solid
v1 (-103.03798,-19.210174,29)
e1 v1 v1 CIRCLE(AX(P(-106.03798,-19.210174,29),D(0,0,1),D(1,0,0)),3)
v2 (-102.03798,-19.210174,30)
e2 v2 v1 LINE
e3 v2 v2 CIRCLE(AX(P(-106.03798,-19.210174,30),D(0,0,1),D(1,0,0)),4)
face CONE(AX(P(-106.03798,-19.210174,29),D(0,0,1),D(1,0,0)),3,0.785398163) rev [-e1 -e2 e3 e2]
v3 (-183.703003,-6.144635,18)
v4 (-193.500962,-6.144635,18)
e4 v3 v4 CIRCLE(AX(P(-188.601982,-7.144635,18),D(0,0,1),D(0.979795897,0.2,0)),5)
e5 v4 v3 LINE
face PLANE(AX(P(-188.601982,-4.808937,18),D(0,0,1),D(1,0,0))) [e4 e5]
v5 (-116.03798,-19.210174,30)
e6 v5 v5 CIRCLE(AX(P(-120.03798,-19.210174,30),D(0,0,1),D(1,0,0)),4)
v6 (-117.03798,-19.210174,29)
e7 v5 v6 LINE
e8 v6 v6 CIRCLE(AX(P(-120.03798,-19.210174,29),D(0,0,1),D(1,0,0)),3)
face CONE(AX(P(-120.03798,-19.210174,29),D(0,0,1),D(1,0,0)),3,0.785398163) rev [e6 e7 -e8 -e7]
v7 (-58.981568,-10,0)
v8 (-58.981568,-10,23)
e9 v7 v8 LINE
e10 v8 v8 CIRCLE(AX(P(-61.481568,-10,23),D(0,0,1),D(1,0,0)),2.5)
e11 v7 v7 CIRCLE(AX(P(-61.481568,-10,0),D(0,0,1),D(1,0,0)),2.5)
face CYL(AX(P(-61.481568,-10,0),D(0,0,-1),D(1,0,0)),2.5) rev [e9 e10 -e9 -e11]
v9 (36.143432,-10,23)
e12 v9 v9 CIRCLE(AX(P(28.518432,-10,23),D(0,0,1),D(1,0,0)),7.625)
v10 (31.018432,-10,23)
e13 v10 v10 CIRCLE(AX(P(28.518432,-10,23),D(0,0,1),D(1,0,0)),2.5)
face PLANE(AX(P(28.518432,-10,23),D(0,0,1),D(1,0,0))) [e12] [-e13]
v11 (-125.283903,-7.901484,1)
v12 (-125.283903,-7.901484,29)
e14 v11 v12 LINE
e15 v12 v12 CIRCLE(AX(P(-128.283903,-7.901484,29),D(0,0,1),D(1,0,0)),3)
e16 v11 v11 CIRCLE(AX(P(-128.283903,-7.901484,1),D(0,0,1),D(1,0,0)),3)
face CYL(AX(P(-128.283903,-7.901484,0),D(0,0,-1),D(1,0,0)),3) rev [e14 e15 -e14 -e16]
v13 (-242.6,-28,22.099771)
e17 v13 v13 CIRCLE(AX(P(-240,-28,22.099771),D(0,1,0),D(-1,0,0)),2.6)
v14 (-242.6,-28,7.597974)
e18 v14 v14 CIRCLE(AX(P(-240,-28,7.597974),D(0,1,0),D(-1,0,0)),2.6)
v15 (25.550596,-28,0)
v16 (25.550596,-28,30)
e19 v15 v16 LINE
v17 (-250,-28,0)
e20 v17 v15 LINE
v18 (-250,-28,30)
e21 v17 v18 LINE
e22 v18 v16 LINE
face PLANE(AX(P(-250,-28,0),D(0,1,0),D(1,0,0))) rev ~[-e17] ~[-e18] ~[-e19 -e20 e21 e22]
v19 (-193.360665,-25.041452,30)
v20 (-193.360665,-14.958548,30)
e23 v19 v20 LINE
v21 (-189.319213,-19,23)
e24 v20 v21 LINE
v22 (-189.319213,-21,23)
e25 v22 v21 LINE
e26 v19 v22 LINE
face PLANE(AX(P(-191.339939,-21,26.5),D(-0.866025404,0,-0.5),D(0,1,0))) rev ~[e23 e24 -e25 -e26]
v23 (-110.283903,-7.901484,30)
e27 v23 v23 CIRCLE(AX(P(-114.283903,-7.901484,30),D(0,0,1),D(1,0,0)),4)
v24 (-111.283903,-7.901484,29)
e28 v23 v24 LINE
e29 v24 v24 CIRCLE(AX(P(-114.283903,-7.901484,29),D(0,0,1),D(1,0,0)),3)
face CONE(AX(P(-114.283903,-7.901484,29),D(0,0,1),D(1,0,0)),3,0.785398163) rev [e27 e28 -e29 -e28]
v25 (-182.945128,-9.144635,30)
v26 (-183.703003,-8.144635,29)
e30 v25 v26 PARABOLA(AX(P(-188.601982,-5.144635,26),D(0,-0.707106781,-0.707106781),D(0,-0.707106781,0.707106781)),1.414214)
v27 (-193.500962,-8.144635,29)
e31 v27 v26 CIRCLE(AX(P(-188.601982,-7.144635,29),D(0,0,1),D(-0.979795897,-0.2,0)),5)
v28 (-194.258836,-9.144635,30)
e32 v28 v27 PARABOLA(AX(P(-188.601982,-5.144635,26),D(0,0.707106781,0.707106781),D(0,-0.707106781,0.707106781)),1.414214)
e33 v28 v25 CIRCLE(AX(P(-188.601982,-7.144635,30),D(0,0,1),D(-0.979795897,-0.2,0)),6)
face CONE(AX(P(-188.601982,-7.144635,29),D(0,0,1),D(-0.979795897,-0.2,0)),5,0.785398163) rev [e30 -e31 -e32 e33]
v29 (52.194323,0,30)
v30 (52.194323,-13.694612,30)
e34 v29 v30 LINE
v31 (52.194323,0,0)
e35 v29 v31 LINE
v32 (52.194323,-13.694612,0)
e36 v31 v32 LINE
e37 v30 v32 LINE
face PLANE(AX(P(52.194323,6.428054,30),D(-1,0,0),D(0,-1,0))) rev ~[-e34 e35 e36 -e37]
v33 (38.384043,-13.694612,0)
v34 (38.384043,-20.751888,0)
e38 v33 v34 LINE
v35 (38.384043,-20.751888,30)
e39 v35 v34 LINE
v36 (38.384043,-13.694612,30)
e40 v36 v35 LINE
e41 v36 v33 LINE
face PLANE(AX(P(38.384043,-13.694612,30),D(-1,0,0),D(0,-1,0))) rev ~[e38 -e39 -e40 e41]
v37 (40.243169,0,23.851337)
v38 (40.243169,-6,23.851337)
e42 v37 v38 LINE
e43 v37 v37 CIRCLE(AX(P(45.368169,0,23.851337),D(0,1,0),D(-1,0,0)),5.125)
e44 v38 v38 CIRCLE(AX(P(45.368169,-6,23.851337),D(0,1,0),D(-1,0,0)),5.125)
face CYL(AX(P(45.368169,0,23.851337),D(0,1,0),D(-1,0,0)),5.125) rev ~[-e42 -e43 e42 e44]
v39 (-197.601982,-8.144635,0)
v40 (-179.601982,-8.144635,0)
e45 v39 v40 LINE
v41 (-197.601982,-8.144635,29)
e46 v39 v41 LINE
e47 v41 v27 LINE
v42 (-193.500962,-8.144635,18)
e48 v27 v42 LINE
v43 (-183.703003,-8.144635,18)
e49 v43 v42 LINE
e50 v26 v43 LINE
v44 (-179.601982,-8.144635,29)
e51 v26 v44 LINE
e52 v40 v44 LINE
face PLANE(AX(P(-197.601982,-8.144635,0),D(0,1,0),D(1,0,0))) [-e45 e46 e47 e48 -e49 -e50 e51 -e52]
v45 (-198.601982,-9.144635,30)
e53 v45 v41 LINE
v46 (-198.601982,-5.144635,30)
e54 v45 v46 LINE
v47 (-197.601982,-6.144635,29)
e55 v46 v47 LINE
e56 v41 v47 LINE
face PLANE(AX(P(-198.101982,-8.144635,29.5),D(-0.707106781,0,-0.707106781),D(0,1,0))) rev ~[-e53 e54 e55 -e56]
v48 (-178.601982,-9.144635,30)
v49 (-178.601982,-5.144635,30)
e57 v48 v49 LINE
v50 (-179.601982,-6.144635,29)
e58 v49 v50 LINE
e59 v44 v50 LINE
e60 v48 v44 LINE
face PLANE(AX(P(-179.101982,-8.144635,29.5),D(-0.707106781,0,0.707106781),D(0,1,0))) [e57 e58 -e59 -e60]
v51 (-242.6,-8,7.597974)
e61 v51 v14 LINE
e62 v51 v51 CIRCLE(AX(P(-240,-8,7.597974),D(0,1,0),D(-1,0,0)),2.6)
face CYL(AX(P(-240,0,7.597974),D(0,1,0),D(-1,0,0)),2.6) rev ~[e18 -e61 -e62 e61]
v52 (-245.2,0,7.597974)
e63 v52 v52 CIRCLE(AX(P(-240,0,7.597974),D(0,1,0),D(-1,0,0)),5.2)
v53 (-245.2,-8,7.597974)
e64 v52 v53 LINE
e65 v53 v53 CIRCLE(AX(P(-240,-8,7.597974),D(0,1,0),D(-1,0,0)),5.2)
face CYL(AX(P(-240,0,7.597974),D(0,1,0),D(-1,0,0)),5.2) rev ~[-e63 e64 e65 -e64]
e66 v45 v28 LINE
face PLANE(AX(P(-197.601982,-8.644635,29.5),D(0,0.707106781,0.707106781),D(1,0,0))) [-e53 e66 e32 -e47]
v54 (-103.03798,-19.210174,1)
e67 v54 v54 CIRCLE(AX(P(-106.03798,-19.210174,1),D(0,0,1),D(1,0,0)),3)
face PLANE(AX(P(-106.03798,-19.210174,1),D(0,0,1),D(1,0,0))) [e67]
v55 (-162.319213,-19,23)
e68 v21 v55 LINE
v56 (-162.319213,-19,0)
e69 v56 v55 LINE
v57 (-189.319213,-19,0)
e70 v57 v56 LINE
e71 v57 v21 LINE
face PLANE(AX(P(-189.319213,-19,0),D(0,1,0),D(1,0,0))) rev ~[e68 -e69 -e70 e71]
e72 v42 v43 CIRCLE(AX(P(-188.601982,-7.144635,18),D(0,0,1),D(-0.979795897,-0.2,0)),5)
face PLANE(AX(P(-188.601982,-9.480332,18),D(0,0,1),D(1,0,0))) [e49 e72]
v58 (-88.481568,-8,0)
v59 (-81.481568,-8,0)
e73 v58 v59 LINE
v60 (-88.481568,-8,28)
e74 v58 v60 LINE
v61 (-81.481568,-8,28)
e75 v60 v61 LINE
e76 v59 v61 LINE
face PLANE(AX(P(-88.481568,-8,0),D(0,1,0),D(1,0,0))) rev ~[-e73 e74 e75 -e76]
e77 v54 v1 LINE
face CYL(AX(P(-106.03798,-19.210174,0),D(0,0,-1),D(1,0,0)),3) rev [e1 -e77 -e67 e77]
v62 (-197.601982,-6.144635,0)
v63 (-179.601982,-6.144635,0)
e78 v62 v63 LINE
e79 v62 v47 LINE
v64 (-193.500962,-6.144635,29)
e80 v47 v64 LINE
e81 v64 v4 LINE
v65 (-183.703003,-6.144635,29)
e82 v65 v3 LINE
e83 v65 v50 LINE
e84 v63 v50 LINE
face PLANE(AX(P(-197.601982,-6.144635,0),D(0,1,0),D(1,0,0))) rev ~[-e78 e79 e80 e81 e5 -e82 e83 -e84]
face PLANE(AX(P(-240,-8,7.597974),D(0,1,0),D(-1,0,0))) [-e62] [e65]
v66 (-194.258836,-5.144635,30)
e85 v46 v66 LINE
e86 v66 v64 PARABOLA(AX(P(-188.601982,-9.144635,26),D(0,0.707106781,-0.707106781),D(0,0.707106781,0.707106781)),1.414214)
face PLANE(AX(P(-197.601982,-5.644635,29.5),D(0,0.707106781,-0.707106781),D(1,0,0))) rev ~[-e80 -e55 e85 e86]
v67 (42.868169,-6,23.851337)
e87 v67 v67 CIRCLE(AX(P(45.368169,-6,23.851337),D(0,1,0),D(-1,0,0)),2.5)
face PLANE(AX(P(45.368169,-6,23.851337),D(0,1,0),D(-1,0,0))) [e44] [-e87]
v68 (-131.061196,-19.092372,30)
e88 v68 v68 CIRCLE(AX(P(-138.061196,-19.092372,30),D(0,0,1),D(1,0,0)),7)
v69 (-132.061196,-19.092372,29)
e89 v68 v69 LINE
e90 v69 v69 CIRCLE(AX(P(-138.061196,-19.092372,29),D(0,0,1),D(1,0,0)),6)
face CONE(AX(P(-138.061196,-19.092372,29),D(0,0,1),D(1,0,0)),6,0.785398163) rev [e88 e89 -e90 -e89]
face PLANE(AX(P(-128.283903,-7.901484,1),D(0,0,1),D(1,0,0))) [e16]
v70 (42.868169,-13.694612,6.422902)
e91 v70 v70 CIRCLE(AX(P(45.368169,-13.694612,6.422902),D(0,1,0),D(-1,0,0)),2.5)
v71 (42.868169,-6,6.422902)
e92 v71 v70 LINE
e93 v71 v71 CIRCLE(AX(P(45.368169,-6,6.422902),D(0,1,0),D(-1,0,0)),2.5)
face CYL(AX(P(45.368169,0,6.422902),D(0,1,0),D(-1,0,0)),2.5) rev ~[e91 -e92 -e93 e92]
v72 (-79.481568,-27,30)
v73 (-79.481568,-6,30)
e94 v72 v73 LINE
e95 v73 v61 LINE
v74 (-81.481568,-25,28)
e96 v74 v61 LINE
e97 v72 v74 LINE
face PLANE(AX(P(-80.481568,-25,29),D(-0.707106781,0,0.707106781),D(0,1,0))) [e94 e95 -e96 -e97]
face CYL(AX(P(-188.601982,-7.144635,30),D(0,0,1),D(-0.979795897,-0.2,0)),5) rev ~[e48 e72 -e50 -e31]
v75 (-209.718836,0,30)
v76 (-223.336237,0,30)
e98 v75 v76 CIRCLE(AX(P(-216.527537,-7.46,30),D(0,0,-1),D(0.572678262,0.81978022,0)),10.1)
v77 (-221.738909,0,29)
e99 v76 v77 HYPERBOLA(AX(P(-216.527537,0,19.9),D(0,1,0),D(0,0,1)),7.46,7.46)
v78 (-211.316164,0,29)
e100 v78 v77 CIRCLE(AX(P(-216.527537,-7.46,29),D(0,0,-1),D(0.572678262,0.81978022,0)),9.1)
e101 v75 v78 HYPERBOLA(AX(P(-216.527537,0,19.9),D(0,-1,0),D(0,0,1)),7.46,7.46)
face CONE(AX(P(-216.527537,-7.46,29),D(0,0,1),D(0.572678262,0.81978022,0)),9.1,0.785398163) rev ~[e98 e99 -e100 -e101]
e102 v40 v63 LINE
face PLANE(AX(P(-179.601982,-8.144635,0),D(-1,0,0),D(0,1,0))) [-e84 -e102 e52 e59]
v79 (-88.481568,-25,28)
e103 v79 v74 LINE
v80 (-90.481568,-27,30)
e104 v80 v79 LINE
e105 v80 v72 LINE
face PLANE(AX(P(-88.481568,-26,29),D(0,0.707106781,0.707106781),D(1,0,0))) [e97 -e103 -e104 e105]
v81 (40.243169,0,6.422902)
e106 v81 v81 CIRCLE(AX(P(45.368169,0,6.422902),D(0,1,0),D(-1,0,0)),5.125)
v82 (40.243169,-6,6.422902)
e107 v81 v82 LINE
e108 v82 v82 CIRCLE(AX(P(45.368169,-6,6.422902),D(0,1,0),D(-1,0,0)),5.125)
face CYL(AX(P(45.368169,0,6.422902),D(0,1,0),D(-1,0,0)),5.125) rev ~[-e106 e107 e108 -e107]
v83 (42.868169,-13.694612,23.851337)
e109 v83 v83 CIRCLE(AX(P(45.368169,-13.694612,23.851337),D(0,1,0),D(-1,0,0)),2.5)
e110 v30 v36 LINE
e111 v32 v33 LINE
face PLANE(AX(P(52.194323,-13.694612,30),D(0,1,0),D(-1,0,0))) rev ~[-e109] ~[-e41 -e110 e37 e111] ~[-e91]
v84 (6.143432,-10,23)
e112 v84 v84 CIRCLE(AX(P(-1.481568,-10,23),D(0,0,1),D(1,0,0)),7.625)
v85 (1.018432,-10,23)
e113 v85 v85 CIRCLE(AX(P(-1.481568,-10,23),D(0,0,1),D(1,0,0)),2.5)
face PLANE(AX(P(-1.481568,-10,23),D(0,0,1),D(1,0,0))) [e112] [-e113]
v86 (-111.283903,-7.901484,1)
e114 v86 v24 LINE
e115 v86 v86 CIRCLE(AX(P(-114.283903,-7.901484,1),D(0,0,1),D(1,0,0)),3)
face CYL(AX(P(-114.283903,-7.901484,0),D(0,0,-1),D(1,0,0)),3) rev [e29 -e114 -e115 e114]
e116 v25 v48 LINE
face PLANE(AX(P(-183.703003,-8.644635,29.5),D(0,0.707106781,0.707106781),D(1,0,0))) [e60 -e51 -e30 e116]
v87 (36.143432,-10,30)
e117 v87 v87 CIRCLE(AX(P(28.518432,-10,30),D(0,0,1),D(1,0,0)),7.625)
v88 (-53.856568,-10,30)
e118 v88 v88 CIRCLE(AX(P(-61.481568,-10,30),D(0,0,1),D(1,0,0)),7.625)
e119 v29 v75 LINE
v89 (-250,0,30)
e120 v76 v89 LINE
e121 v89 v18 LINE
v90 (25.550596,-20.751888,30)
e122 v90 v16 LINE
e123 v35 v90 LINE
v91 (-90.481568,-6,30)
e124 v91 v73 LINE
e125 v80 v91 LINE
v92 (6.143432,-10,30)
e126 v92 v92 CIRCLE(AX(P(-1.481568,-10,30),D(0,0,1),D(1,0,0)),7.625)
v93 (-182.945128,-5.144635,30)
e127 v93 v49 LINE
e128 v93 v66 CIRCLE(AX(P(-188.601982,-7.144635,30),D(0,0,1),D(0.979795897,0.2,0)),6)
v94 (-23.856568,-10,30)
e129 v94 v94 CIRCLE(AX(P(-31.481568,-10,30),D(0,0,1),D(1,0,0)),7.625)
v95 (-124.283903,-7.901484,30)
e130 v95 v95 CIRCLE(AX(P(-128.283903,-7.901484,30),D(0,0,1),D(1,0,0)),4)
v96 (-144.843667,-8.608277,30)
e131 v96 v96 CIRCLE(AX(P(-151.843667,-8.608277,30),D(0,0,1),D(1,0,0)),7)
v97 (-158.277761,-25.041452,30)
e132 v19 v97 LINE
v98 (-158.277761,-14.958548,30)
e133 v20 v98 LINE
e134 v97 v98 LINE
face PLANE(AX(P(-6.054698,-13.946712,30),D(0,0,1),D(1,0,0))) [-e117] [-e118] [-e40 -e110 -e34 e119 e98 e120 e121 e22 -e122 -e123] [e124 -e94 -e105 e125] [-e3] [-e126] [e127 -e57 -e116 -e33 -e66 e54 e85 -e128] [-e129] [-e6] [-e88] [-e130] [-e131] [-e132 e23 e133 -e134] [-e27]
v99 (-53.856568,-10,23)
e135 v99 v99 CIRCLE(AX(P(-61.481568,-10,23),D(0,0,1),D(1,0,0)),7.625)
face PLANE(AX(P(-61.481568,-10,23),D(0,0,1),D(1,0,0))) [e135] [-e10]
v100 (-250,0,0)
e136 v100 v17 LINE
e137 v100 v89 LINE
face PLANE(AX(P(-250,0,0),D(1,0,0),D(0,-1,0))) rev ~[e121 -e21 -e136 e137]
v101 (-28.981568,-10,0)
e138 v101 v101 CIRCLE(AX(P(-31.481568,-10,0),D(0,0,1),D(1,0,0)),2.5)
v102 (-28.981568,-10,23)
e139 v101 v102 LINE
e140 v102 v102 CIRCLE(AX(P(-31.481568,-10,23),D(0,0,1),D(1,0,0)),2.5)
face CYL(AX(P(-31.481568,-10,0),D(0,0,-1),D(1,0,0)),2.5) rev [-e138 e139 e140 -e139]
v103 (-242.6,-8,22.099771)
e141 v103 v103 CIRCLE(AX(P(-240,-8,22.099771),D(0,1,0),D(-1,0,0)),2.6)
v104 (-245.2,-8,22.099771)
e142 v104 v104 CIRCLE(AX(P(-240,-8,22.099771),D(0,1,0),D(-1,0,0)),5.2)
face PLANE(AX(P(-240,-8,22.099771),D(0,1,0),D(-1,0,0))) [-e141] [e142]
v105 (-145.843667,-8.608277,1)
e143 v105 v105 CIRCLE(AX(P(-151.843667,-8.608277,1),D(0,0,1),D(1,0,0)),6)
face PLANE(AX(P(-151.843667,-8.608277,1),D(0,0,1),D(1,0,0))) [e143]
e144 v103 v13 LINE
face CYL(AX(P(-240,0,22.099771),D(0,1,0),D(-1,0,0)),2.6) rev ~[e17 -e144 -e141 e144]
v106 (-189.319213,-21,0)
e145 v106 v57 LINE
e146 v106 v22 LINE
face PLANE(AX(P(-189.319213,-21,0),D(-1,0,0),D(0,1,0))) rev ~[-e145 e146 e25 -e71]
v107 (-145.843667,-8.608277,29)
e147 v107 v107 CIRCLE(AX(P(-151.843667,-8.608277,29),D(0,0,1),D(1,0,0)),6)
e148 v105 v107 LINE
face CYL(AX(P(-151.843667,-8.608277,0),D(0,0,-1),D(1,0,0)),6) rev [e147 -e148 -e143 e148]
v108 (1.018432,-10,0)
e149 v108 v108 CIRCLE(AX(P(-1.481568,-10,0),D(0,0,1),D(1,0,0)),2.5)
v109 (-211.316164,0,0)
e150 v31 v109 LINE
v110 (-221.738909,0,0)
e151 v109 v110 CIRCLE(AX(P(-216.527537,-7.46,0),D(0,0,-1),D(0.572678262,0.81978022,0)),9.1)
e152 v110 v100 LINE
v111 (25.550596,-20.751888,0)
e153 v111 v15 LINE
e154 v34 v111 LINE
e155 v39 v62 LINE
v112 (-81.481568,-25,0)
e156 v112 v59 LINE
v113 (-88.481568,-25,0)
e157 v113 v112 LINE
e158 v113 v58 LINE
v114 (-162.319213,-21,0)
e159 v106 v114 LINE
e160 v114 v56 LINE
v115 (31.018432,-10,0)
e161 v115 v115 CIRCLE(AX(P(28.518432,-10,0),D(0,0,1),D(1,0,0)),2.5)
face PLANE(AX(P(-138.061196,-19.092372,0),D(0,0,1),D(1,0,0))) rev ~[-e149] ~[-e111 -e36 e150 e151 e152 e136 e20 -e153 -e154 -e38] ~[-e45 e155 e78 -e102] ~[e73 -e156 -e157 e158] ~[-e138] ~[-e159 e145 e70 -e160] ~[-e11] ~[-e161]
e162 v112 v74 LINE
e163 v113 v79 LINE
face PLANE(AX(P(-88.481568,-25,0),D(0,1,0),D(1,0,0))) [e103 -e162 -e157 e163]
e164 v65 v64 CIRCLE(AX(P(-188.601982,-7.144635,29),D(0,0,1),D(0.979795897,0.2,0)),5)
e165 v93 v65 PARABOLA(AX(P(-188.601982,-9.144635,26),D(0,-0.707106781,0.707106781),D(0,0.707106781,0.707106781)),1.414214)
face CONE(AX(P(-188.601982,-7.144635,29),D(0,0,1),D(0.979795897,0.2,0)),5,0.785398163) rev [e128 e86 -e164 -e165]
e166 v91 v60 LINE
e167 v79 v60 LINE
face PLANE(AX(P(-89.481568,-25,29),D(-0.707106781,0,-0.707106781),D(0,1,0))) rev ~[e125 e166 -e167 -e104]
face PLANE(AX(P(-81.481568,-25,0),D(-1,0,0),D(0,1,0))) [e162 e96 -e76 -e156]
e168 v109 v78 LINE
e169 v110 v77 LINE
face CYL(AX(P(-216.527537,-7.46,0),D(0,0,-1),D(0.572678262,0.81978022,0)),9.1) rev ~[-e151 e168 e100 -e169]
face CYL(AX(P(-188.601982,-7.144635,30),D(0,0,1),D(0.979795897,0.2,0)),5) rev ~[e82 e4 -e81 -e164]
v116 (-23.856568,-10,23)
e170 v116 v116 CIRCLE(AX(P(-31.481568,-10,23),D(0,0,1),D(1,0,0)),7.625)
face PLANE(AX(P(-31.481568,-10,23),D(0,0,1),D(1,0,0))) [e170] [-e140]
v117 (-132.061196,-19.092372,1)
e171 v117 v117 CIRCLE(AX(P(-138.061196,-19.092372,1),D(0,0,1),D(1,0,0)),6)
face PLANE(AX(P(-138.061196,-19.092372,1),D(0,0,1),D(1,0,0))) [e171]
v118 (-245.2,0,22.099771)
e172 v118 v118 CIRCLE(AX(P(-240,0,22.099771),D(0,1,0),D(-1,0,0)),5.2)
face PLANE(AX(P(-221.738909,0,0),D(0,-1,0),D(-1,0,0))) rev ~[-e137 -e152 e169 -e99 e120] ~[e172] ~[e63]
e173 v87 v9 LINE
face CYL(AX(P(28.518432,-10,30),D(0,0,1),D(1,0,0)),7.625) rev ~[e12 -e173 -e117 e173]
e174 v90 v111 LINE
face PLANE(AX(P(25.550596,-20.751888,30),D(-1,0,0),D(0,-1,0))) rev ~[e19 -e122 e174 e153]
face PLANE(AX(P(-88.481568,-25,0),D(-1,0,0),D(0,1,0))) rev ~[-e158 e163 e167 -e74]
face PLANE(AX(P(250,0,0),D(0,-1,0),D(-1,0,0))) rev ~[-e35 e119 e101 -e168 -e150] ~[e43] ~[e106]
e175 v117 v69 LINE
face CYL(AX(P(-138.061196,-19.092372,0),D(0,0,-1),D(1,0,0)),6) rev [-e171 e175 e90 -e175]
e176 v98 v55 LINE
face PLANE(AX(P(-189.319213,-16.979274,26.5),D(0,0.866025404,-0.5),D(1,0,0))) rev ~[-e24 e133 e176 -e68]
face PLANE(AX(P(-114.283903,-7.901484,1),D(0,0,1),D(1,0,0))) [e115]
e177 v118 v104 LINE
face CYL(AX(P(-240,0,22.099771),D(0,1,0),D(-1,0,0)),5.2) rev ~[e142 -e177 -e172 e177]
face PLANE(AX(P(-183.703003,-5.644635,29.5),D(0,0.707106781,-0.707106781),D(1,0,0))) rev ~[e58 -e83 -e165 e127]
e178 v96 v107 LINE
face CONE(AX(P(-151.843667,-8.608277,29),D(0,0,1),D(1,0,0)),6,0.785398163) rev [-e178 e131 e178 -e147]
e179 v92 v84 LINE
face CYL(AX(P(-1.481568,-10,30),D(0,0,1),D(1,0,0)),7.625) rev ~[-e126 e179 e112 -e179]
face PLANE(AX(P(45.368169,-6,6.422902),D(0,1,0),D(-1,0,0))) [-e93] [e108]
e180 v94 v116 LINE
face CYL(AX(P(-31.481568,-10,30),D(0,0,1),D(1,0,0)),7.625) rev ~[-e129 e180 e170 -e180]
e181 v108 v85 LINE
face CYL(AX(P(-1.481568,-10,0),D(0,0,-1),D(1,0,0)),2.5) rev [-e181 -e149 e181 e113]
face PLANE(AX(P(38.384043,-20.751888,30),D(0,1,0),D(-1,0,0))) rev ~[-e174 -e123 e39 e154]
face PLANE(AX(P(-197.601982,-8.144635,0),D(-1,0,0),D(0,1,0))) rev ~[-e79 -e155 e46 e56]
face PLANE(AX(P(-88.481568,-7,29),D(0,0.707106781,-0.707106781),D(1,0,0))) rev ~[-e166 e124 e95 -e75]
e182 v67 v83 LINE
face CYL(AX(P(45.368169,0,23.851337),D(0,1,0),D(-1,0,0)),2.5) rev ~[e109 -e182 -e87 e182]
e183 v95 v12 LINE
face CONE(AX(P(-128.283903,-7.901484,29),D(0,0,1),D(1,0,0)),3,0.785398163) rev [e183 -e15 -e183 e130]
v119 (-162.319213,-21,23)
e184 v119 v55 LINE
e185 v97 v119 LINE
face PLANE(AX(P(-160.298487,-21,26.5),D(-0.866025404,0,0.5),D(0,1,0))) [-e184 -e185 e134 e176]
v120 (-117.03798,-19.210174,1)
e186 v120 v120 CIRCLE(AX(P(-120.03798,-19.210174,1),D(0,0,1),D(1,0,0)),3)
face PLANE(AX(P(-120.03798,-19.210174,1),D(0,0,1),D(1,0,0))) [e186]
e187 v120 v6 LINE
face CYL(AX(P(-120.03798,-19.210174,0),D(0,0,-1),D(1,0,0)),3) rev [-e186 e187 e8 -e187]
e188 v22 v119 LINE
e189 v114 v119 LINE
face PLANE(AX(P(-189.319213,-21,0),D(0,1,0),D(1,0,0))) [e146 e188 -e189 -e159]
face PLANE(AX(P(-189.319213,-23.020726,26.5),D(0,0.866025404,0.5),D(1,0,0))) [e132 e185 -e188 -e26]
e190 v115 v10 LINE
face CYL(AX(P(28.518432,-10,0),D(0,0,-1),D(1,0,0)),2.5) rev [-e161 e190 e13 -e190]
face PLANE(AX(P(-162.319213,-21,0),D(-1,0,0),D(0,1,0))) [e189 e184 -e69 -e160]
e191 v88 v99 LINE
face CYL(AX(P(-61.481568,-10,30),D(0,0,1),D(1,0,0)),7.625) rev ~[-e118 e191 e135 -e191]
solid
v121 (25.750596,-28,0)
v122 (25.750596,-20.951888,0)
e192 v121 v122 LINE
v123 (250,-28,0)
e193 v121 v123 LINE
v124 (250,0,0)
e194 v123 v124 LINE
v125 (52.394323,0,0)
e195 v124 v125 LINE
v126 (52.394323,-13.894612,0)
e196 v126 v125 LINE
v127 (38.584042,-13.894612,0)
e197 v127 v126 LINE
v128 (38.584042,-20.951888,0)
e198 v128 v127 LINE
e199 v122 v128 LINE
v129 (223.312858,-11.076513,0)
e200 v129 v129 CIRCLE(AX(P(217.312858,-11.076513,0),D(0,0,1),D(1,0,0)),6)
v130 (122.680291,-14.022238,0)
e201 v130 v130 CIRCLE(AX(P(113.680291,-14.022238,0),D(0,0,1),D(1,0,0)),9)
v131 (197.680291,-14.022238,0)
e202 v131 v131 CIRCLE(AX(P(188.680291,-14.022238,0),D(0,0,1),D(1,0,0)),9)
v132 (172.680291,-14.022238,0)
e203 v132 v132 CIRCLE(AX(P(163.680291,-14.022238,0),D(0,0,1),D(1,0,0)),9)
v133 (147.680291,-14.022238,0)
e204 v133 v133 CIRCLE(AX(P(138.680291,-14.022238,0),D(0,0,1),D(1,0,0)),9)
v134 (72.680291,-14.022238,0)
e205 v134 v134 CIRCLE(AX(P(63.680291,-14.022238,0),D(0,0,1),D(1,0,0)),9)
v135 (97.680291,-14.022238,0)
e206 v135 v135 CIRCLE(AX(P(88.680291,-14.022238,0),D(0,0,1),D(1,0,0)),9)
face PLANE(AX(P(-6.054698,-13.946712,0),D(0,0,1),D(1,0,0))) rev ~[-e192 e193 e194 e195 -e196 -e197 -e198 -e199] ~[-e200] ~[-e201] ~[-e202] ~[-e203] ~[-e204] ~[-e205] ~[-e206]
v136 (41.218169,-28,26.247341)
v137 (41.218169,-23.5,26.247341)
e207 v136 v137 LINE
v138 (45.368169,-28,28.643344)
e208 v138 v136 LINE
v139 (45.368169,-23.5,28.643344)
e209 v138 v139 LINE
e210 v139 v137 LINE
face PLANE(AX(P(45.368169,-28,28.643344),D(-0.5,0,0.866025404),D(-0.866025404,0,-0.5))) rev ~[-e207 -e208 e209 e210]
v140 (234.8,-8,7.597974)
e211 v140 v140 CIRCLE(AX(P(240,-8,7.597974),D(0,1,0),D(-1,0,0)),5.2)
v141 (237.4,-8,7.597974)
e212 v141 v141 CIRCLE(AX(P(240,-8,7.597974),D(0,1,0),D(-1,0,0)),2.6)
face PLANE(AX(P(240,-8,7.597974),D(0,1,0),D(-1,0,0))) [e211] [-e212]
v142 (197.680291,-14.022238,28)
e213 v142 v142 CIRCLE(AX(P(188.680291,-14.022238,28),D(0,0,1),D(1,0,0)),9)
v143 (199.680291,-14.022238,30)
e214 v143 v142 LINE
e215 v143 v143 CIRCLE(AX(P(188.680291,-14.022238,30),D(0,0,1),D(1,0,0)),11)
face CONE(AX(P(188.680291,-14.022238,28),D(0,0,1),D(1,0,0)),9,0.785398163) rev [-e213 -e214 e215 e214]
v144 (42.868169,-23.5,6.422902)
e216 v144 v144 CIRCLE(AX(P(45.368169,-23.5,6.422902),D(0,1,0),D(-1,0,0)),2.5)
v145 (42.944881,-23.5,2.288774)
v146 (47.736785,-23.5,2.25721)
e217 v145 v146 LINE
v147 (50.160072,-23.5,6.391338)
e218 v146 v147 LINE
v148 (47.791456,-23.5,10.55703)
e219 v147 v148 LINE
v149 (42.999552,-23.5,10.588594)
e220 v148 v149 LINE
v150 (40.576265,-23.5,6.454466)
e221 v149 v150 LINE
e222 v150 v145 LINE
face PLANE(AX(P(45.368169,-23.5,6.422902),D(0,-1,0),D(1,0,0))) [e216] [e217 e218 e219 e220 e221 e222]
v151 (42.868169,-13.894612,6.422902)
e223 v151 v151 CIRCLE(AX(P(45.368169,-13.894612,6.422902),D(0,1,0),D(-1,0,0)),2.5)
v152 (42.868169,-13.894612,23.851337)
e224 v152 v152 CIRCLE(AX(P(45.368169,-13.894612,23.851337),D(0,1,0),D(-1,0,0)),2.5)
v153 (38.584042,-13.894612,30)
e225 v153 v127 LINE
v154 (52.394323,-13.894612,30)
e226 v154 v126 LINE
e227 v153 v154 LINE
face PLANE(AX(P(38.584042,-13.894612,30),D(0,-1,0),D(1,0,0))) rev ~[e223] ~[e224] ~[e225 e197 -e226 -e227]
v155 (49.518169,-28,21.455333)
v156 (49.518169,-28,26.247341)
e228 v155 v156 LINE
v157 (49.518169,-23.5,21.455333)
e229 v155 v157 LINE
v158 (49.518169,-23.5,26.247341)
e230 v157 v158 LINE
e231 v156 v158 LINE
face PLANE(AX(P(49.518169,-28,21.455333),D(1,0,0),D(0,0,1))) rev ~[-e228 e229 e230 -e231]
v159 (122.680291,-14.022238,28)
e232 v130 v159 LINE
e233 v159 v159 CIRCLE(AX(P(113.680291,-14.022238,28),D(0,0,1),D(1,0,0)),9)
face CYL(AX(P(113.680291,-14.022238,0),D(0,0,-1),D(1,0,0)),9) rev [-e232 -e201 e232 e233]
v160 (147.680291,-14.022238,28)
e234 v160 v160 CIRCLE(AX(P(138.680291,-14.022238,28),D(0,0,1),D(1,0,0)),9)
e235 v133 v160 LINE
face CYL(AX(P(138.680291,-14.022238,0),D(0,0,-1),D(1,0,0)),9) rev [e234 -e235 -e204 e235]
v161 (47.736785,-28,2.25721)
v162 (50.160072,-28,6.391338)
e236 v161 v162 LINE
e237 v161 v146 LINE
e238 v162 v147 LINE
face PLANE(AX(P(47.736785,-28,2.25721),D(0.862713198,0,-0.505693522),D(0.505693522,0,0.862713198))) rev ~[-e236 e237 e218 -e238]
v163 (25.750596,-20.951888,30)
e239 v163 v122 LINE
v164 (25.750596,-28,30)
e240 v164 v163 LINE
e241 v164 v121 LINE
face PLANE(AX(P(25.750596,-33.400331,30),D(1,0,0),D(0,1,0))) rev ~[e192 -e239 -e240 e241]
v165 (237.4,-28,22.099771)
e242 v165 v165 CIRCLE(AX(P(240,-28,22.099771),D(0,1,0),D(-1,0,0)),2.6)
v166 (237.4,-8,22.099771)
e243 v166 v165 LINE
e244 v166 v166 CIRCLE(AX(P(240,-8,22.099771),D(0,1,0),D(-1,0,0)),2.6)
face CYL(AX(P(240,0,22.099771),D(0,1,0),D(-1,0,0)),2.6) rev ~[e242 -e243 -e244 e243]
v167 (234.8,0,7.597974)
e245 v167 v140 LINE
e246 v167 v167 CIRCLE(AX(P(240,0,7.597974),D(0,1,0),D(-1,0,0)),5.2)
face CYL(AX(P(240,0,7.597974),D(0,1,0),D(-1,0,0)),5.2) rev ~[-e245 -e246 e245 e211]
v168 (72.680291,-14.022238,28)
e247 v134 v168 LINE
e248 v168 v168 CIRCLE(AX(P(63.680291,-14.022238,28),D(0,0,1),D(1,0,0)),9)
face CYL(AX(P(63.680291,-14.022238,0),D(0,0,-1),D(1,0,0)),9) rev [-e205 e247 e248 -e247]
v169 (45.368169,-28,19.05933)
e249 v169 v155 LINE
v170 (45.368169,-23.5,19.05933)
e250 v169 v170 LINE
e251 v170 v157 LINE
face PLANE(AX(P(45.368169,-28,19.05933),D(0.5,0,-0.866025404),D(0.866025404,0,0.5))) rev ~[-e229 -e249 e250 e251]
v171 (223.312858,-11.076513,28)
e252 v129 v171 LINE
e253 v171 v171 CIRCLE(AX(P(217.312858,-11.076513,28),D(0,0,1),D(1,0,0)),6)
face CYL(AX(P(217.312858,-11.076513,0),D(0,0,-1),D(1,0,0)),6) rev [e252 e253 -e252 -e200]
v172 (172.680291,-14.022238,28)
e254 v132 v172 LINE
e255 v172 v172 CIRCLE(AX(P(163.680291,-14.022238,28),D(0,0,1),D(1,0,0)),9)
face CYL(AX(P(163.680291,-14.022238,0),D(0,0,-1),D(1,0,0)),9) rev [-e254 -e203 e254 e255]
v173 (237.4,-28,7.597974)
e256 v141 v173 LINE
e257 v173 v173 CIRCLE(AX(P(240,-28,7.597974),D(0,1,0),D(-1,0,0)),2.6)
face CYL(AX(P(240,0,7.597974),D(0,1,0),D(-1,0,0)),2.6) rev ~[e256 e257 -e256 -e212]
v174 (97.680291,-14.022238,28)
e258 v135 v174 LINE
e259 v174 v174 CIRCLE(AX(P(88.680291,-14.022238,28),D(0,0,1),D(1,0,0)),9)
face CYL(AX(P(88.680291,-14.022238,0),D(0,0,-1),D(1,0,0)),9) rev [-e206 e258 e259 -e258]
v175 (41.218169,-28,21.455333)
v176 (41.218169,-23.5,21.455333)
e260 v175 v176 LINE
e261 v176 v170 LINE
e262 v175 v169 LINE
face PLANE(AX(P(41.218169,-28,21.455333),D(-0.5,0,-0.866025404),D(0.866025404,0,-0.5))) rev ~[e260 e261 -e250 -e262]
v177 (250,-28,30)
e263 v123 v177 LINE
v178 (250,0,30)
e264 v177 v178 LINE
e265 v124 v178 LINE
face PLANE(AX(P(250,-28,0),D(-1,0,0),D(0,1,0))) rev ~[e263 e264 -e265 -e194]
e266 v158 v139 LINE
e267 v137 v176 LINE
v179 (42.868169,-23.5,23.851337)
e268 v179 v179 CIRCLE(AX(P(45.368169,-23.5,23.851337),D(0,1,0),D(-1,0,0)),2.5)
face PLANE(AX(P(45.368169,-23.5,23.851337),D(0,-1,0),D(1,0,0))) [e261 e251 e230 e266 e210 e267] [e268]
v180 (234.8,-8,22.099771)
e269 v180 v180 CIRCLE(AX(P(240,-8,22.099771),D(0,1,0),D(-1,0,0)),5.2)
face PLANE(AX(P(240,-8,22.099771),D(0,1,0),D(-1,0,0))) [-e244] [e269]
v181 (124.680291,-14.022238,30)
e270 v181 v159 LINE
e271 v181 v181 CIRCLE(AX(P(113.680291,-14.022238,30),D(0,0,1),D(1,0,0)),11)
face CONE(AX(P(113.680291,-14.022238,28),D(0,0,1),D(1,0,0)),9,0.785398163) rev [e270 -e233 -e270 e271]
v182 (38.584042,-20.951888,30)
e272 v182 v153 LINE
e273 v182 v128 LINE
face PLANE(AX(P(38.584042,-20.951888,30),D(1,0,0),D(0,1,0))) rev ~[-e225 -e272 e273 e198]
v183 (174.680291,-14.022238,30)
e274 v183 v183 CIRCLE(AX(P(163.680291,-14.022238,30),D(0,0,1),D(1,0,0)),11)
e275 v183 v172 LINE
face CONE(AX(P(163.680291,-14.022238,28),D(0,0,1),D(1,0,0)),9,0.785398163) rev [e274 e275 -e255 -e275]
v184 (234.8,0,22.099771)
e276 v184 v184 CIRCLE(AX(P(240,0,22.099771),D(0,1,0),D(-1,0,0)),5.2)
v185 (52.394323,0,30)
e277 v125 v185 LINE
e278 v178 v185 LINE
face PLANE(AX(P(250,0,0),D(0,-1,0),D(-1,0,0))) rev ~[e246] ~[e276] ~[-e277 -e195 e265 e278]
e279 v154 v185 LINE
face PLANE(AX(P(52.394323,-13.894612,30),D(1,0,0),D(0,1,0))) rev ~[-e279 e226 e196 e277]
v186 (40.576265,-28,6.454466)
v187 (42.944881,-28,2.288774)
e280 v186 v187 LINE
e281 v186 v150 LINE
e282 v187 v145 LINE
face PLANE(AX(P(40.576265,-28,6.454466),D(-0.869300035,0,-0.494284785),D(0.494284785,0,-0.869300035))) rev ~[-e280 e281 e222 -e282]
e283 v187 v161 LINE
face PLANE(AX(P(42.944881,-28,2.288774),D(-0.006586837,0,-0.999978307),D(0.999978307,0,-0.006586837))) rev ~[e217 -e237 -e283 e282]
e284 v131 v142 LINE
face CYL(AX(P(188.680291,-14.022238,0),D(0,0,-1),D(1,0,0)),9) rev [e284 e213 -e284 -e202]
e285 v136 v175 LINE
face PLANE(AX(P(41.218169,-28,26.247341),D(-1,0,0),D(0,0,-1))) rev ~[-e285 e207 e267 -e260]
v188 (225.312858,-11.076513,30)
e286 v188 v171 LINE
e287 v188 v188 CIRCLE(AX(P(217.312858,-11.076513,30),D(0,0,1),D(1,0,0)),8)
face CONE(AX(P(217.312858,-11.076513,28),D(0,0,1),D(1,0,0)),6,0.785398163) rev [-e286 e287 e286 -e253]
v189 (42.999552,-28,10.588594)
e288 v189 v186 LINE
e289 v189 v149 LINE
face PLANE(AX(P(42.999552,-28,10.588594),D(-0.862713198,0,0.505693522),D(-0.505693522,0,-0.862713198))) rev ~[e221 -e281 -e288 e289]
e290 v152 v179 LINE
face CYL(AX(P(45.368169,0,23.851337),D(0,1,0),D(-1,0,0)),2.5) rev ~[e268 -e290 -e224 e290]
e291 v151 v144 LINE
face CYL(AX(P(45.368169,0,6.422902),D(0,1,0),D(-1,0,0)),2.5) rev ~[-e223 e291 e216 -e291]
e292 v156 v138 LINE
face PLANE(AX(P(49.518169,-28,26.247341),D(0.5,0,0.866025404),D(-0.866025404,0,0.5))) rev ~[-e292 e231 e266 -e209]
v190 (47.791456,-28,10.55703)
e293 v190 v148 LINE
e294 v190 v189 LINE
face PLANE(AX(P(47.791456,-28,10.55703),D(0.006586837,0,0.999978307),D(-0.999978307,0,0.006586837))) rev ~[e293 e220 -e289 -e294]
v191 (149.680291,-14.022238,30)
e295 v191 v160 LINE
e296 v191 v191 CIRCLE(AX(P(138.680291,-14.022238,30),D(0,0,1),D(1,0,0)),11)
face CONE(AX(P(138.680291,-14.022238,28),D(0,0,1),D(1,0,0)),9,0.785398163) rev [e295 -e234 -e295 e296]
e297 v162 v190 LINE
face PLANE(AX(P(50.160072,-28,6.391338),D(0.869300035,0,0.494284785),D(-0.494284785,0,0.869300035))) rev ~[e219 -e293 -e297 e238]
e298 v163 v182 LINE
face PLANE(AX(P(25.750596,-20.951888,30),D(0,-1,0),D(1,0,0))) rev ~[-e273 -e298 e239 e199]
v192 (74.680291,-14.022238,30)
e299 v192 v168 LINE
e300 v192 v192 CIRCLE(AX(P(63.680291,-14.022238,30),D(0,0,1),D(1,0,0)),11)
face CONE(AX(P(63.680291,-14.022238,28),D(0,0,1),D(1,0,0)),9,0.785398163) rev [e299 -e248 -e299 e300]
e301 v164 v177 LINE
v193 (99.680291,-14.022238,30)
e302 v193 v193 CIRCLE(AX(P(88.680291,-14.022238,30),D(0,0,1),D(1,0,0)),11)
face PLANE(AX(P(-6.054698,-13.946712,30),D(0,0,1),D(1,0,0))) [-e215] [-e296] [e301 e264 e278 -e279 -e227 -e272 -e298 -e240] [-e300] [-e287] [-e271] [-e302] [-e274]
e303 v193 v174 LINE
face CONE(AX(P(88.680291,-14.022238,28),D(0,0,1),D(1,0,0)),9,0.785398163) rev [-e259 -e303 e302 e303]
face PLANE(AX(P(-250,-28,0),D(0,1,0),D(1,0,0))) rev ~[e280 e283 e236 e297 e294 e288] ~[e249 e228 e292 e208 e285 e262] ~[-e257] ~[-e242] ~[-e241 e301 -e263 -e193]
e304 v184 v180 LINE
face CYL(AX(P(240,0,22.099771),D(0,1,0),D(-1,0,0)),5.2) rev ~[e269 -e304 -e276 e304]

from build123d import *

# Parameters (mm, degrees)
F0_W      = 27
F0_H      = 2
F0_R      = 6
F0_R_2    = 3
F0_W_2    = 7
F0_H_2    = 17
F0_R_3    = 9
F0_W_3    = 18
F0_R_4    = 2.5
F1_DEPTH  = 30
F2_R      = 2.6
F3_DEPTH  = 28.001
F2_R_2    = 5.2
F4_DEPTH  = 8
F6_DEPTH  = 12
F5_R      = 7.625
F5_R_2    = 2.5
F7_DEPTH  = 7
F8_SIZE   = 2
F9_SIZE   = 1
F10_SIZE2 = 7
F10_SIZE  = 4.0414518843
F12_DEPTH = 30.001
F15_DEPTH = 4.5
F16_R     = 2.5
F17_DEPTH = 28.001
F13_R     = 5.125
F18_DEPTH = 6
F19_R     = 6
F19_R_2   = 3
F20_DEPTH = 1


with BuildPart() as f1:
    # F0 (on Top) → F1 (new body)
    with BuildSketch(Plane.XY):
        with BuildLine():
            Line((250, 0), (0, 0))
            Line((0, 0), (-211.3161643313, 0))
            ThreePointArc((-211.3161643313, 0), (-216.5275365114, -16.56), (-221.7389086916, 0))
            Line((-221.7389086916, 0), (-250, 0))
            Line((-250, 0), (-250, -28))
            Line((-250, -28), (0, -28))
            Line((0, -28), (250, -28))
            Line((250, -28), (250, 0))
        make_face()
        with Locations((-175.8192131519, -20)):
            Rectangle(F0_W, F0_H, mode=Mode.SUBTRACT)
        with Locations((-138.061195612, -19.0923716873)):
            Circle(F0_R, mode=Mode.SUBTRACT)
        with Locations((-120.0379803777, -19.2101737484)):
            Circle(F0_R_2, mode=Mode.SUBTRACT)
        with Locations((-106.0379803777, -19.2101737484)):
            Circle(F0_R_2, mode=Mode.SUBTRACT)
        with Locations((-84.9815678, -16.5)):
            Rectangle(F0_W_2, F0_H_2, mode=Mode.SUBTRACT)
        with Locations((63.6802911758, -14.0222376212)):
            Circle(F0_R_3, mode=Mode.SUBTRACT)
        with Locations((88.6802911758, -14.0222376212)):
            Circle(F0_R_3, mode=Mode.SUBTRACT)
        with Locations((113.6802911758, -14.0222376212)):
            Circle(F0_R_3, mode=Mode.SUBTRACT)
        with Locations((138.6802911758, -14.0222376212)):
            Circle(F0_R_3, mode=Mode.SUBTRACT)
        with Locations((163.6802911758, -14.0222376212)):
            Circle(F0_R_3, mode=Mode.SUBTRACT)
        with Locations((188.6802911758, -14.0222376212)):
            Circle(F0_R_3, mode=Mode.SUBTRACT)
        with Locations((-188.6019822359, -7.1446347758)):
            Rectangle(F0_W_3, F0_H, mode=Mode.SUBTRACT)
        with Locations((-151.8436670303, -8.6082769558)):
            Circle(F0_R, mode=Mode.SUBTRACT)
        with Locations((-128.2839030027, -7.9014841467)):
            Circle(F0_R_2, mode=Mode.SUBTRACT)
        with Locations((-114.2839030027, -7.9014841467)):
            Circle(F0_R_2, mode=Mode.SUBTRACT)
        with Locations((-61.4815678, -10)):
            Circle(F0_R_4, mode=Mode.SUBTRACT)
        with Locations((-31.4815678, -10)):
            Circle(F0_R_4, mode=Mode.SUBTRACT)
        with Locations((-1.4815678, -10)):
            Circle(F0_R_4, mode=Mode.SUBTRACT)
        with Locations((28.5184322, -10)):
            Circle(F0_R_4, mode=Mode.SUBTRACT)
        with Locations((217.3128575087, -11.0765127465)):
            Circle(F0_R, mode=Mode.SUBTRACT)
    extrude(amount=F1_DEPTH)

    # F2 (on face) → F3 (cut, through all)
    with BuildSketch(Plane(origin=(0, 0, 0), x_dir=(-1, 0, 0), z_dir=(0, 1, 0))):
        with Locations((240, 22.0997706056)):
            Circle(F2_R)
        with Locations((240, 7.5979735702)):
            Circle(F2_R)
        with Locations((-240, 7.5979735702)):
            Circle(F2_R)
        with Locations((-240, 22.0997706056)):
            Circle(F2_R)
    extrude(amount=-F3_DEPTH, mode=Mode.SUBTRACT)

    # F2 (on face) → F4 (cut)
    with BuildSketch(Plane(origin=(0, 0, 0), x_dir=(-1, 0, 0), z_dir=(0, 1, 0))):
        with Locations((-240, 22.0997706056)):
            Circle(F2_R_2)
        with Locations((-240, 22.0997706056)):
            Circle(F2_R, mode=Mode.SUBTRACT)
        with Locations((-240, 7.5979735702)):
            Circle(F2_R_2)
        with Locations((-240, 7.5979735702)):
            Circle(F2_R, mode=Mode.SUBTRACT)
        with Locations((240, 7.5979735702)):
            Circle(F2_R_2)
        with Locations((240, 7.5979735702)):
            Circle(F2_R, mode=Mode.SUBTRACT)
        with Locations((240, 22.0997706056)):
            Circle(F2_R_2)
        with Locations((240, 22.0997706056)):
            Circle(F2_R, mode=Mode.SUBTRACT)
    extrude(amount=-F4_DEPTH, mode=Mode.SUBTRACT)

    # F5 (on face) → F6 (cut)
    with BuildSketch(Plane.XY.offset(30)):
        with BuildLine():
            Line((-193.5009617215, -6.1446347758), (-183.7030027503, -6.1446347758))
            ThreePointArc((-183.7030027503, -6.1446347758), (-188.6019822359, -2.1446347758), (-193.5009617215, -6.1446347758))
        make_face()
        with BuildLine():
            ThreePointArc((-193.5009617215, -8.1446347758), (-188.6019822359, -12.1446347758), (-183.7030027503, -8.1446347758))
            Line((-183.7030027503, -8.1446347758), (-193.5009617215, -8.1446347758))
        make_face()
    extrude(amount=-F6_DEPTH, mode=Mode.SUBTRACT)

    # F5 (on face) → F7 (cut)
    with BuildSketch(Plane.XY.offset(30)):
        with Locations((-61.4815678, -10)):
            Circle(F5_R)
        with Locations((-61.4815678, -10)):
            Circle(F5_R_2, mode=Mode.SUBTRACT)
        with Locations((-31.4815678, -10)):
            Circle(F5_R)
        with Locations((-31.4815678, -10)):
            Circle(F5_R_2, mode=Mode.SUBTRACT)
        with Locations((-1.4815678, -10)):
            Circle(F5_R)
        with Locations((-1.4815678, -10)):
            Circle(F5_R_2, mode=Mode.SUBTRACT)
        with Locations((28.5184322, -10)):
            Circle(F5_R)
        with Locations((28.5184322, -10)):
            Circle(F5_R_2, mode=Mode.SUBTRACT)
    extrude(amount=-F7_DEPTH, mode=Mode.SUBTRACT)

    # F8
    f8_edges = [f1.edges().sort_by_distance(p)[0] for p in [
        (54.680291, -14.022238, 30),
        (79.680291, -14.022238, 30),
        (104.680291, -14.022238, 30),
        (129.680291, -14.022238, 30),
        (154.680291, -14.022238, 30),
        (179.680291, -14.022238, 30),
        (211.312858, -11.076513, 30),
        (-81.481568, -16.5, 30),
        (-84.981568, -25, 30),
        (-88.481568, -16.5, 30),
        (-84.981568, -8, 30),
    ]]
    chamfer(f8_edges, length=F8_SIZE)

    # F9
    f9_edges = [f1.edges().sort_by_distance(p)[0] for p in [
        (-109.03798, -19.210174, 30),
        (-123.03798, -19.210174, 30),
        (-117.283903, -7.901484, 30),
        (-131.283903, -7.901484, 30),
        (-144.061196, -19.092372, 30),
        (-157.843667, -8.608277, 30),
        (-188.601982, -12.144635, 30),
        (-188.601982, -2.144635, 30),
        (-181.652492, -6.144635, 30),
        (-179.601982, -7.144635, 30),
        (-181.652492, -8.144635, 30),
        (-195.551472, -8.144635, 30),
        (-197.601982, -7.144635, 30),
        (-195.551472, -6.144635, 30),
        (-216.527537, -16.56, 30),
    ]]
    chamfer(f9_edges, length=F9_SIZE)

    # F10
    f10_edges = [f1.edges().sort_by_distance(p)[0] for p in [
        (-162.319213, -20, 30),
        (-175.819213, -21, 30),
        (-189.319213, -20, 30),
        (-175.819213, -19, 30),
    ]]
    f10_side = f1.faces().sort_by_distance((-13.667484, -14.56727, 30))[0]
    chamfer(f10_edges, length=F10_SIZE, length2=F10_SIZE2, reference=f10_side)

    # F11 (on face) → F12 (cut, through all)
    with BuildSketch(Plane.XY.offset(30)):
        Polygon((38.5840423405, -13.8946119696), (52.394323051, -13.8946119696), (52.394323051, 6.4280540682), (52.1943233907, 6.4280540682), (52.1943233907, -13.6946123093), (38.3840426803, -13.6946123093), (38.3840426803, -20.7518879324), (25.550596416, -20.7518879324), (25.550596416, -33.4003306925), (25.7505960763, -33.4003306925), (25.7505960763, -20.9518875927), (38.5840423405, -20.9518875927), align=None)
    extrude(amount=-F12_DEPTH, mode=Mode.SUBTRACT)

    # F14 (on face) → F15 (cut)
    with BuildSketch(Plane.XZ.offset(28)):
        Polygon((49.518168503, 21.4553332942), (49.518168503, 26.2473405285), (45.368168503, 28.6433441456), (41.218168503, 26.2473405285), (41.218168503, 21.4553332942), (45.368168503, 19.059329677), align=None)
        Polygon((50.1600717822, 6.3913378192), (47.7914555179, 10.5570298777), (42.9995522388, 10.5885940502), (40.5762652239, 6.4544661643), (42.9448814882, 2.2887741059), (47.7367847673, 2.2572099333), align=None)
    extrude(amount=-F15_DEPTH, mode=Mode.SUBTRACT)

    # F16 (on face) → F17 (cut, through all)
    with BuildSketch(Plane(origin=(0, 0, 0), x_dir=(-1, 0, 0), z_dir=(0, 1, 0))):
        with Locations((-45.368168503, 23.8513369113)):
            Circle(F16_R)
        with Locations((-45.368168503, 6.4229019918)):
            Circle(F16_R)
    extrude(amount=-F17_DEPTH, mode=Mode.SUBTRACT)

    # F13 (on face) → F18 (cut)
    with BuildSketch(Plane(origin=(0, 0, 0), x_dir=(-1, 0, 0), z_dir=(0, 1, 0))):
        with Locations((-45.368168503, 23.8513369113)):
            Circle(F13_R)
        with Locations((-45.368168503, 6.4229019918)):
            Circle(F13_R)
    extrude(amount=-F18_DEPTH, mode=Mode.SUBTRACT)

    # F19 (on face) → F20 (join)
    with BuildSketch(Plane.XY):
        with Locations((-138.061195612, -19.0923716873)):
            Circle(F19_R)
        with Locations((-151.8436670303, -8.6082769558)):
            Circle(F19_R)
        with Locations((-128.2839030027, -7.9014841467)):
            Circle(F19_R_2)
        with Locations((-114.2839030027, -7.9014841467)):
            Circle(F19_R_2)
        with Locations((-106.0379803777, -19.2101737484)):
            Circle(F19_R_2)
        with Locations((-120.0379803777, -19.2101737484)):
            Circle(F19_R_2)
    extrude(amount=F20_DEPTH)


solid = f1.part
